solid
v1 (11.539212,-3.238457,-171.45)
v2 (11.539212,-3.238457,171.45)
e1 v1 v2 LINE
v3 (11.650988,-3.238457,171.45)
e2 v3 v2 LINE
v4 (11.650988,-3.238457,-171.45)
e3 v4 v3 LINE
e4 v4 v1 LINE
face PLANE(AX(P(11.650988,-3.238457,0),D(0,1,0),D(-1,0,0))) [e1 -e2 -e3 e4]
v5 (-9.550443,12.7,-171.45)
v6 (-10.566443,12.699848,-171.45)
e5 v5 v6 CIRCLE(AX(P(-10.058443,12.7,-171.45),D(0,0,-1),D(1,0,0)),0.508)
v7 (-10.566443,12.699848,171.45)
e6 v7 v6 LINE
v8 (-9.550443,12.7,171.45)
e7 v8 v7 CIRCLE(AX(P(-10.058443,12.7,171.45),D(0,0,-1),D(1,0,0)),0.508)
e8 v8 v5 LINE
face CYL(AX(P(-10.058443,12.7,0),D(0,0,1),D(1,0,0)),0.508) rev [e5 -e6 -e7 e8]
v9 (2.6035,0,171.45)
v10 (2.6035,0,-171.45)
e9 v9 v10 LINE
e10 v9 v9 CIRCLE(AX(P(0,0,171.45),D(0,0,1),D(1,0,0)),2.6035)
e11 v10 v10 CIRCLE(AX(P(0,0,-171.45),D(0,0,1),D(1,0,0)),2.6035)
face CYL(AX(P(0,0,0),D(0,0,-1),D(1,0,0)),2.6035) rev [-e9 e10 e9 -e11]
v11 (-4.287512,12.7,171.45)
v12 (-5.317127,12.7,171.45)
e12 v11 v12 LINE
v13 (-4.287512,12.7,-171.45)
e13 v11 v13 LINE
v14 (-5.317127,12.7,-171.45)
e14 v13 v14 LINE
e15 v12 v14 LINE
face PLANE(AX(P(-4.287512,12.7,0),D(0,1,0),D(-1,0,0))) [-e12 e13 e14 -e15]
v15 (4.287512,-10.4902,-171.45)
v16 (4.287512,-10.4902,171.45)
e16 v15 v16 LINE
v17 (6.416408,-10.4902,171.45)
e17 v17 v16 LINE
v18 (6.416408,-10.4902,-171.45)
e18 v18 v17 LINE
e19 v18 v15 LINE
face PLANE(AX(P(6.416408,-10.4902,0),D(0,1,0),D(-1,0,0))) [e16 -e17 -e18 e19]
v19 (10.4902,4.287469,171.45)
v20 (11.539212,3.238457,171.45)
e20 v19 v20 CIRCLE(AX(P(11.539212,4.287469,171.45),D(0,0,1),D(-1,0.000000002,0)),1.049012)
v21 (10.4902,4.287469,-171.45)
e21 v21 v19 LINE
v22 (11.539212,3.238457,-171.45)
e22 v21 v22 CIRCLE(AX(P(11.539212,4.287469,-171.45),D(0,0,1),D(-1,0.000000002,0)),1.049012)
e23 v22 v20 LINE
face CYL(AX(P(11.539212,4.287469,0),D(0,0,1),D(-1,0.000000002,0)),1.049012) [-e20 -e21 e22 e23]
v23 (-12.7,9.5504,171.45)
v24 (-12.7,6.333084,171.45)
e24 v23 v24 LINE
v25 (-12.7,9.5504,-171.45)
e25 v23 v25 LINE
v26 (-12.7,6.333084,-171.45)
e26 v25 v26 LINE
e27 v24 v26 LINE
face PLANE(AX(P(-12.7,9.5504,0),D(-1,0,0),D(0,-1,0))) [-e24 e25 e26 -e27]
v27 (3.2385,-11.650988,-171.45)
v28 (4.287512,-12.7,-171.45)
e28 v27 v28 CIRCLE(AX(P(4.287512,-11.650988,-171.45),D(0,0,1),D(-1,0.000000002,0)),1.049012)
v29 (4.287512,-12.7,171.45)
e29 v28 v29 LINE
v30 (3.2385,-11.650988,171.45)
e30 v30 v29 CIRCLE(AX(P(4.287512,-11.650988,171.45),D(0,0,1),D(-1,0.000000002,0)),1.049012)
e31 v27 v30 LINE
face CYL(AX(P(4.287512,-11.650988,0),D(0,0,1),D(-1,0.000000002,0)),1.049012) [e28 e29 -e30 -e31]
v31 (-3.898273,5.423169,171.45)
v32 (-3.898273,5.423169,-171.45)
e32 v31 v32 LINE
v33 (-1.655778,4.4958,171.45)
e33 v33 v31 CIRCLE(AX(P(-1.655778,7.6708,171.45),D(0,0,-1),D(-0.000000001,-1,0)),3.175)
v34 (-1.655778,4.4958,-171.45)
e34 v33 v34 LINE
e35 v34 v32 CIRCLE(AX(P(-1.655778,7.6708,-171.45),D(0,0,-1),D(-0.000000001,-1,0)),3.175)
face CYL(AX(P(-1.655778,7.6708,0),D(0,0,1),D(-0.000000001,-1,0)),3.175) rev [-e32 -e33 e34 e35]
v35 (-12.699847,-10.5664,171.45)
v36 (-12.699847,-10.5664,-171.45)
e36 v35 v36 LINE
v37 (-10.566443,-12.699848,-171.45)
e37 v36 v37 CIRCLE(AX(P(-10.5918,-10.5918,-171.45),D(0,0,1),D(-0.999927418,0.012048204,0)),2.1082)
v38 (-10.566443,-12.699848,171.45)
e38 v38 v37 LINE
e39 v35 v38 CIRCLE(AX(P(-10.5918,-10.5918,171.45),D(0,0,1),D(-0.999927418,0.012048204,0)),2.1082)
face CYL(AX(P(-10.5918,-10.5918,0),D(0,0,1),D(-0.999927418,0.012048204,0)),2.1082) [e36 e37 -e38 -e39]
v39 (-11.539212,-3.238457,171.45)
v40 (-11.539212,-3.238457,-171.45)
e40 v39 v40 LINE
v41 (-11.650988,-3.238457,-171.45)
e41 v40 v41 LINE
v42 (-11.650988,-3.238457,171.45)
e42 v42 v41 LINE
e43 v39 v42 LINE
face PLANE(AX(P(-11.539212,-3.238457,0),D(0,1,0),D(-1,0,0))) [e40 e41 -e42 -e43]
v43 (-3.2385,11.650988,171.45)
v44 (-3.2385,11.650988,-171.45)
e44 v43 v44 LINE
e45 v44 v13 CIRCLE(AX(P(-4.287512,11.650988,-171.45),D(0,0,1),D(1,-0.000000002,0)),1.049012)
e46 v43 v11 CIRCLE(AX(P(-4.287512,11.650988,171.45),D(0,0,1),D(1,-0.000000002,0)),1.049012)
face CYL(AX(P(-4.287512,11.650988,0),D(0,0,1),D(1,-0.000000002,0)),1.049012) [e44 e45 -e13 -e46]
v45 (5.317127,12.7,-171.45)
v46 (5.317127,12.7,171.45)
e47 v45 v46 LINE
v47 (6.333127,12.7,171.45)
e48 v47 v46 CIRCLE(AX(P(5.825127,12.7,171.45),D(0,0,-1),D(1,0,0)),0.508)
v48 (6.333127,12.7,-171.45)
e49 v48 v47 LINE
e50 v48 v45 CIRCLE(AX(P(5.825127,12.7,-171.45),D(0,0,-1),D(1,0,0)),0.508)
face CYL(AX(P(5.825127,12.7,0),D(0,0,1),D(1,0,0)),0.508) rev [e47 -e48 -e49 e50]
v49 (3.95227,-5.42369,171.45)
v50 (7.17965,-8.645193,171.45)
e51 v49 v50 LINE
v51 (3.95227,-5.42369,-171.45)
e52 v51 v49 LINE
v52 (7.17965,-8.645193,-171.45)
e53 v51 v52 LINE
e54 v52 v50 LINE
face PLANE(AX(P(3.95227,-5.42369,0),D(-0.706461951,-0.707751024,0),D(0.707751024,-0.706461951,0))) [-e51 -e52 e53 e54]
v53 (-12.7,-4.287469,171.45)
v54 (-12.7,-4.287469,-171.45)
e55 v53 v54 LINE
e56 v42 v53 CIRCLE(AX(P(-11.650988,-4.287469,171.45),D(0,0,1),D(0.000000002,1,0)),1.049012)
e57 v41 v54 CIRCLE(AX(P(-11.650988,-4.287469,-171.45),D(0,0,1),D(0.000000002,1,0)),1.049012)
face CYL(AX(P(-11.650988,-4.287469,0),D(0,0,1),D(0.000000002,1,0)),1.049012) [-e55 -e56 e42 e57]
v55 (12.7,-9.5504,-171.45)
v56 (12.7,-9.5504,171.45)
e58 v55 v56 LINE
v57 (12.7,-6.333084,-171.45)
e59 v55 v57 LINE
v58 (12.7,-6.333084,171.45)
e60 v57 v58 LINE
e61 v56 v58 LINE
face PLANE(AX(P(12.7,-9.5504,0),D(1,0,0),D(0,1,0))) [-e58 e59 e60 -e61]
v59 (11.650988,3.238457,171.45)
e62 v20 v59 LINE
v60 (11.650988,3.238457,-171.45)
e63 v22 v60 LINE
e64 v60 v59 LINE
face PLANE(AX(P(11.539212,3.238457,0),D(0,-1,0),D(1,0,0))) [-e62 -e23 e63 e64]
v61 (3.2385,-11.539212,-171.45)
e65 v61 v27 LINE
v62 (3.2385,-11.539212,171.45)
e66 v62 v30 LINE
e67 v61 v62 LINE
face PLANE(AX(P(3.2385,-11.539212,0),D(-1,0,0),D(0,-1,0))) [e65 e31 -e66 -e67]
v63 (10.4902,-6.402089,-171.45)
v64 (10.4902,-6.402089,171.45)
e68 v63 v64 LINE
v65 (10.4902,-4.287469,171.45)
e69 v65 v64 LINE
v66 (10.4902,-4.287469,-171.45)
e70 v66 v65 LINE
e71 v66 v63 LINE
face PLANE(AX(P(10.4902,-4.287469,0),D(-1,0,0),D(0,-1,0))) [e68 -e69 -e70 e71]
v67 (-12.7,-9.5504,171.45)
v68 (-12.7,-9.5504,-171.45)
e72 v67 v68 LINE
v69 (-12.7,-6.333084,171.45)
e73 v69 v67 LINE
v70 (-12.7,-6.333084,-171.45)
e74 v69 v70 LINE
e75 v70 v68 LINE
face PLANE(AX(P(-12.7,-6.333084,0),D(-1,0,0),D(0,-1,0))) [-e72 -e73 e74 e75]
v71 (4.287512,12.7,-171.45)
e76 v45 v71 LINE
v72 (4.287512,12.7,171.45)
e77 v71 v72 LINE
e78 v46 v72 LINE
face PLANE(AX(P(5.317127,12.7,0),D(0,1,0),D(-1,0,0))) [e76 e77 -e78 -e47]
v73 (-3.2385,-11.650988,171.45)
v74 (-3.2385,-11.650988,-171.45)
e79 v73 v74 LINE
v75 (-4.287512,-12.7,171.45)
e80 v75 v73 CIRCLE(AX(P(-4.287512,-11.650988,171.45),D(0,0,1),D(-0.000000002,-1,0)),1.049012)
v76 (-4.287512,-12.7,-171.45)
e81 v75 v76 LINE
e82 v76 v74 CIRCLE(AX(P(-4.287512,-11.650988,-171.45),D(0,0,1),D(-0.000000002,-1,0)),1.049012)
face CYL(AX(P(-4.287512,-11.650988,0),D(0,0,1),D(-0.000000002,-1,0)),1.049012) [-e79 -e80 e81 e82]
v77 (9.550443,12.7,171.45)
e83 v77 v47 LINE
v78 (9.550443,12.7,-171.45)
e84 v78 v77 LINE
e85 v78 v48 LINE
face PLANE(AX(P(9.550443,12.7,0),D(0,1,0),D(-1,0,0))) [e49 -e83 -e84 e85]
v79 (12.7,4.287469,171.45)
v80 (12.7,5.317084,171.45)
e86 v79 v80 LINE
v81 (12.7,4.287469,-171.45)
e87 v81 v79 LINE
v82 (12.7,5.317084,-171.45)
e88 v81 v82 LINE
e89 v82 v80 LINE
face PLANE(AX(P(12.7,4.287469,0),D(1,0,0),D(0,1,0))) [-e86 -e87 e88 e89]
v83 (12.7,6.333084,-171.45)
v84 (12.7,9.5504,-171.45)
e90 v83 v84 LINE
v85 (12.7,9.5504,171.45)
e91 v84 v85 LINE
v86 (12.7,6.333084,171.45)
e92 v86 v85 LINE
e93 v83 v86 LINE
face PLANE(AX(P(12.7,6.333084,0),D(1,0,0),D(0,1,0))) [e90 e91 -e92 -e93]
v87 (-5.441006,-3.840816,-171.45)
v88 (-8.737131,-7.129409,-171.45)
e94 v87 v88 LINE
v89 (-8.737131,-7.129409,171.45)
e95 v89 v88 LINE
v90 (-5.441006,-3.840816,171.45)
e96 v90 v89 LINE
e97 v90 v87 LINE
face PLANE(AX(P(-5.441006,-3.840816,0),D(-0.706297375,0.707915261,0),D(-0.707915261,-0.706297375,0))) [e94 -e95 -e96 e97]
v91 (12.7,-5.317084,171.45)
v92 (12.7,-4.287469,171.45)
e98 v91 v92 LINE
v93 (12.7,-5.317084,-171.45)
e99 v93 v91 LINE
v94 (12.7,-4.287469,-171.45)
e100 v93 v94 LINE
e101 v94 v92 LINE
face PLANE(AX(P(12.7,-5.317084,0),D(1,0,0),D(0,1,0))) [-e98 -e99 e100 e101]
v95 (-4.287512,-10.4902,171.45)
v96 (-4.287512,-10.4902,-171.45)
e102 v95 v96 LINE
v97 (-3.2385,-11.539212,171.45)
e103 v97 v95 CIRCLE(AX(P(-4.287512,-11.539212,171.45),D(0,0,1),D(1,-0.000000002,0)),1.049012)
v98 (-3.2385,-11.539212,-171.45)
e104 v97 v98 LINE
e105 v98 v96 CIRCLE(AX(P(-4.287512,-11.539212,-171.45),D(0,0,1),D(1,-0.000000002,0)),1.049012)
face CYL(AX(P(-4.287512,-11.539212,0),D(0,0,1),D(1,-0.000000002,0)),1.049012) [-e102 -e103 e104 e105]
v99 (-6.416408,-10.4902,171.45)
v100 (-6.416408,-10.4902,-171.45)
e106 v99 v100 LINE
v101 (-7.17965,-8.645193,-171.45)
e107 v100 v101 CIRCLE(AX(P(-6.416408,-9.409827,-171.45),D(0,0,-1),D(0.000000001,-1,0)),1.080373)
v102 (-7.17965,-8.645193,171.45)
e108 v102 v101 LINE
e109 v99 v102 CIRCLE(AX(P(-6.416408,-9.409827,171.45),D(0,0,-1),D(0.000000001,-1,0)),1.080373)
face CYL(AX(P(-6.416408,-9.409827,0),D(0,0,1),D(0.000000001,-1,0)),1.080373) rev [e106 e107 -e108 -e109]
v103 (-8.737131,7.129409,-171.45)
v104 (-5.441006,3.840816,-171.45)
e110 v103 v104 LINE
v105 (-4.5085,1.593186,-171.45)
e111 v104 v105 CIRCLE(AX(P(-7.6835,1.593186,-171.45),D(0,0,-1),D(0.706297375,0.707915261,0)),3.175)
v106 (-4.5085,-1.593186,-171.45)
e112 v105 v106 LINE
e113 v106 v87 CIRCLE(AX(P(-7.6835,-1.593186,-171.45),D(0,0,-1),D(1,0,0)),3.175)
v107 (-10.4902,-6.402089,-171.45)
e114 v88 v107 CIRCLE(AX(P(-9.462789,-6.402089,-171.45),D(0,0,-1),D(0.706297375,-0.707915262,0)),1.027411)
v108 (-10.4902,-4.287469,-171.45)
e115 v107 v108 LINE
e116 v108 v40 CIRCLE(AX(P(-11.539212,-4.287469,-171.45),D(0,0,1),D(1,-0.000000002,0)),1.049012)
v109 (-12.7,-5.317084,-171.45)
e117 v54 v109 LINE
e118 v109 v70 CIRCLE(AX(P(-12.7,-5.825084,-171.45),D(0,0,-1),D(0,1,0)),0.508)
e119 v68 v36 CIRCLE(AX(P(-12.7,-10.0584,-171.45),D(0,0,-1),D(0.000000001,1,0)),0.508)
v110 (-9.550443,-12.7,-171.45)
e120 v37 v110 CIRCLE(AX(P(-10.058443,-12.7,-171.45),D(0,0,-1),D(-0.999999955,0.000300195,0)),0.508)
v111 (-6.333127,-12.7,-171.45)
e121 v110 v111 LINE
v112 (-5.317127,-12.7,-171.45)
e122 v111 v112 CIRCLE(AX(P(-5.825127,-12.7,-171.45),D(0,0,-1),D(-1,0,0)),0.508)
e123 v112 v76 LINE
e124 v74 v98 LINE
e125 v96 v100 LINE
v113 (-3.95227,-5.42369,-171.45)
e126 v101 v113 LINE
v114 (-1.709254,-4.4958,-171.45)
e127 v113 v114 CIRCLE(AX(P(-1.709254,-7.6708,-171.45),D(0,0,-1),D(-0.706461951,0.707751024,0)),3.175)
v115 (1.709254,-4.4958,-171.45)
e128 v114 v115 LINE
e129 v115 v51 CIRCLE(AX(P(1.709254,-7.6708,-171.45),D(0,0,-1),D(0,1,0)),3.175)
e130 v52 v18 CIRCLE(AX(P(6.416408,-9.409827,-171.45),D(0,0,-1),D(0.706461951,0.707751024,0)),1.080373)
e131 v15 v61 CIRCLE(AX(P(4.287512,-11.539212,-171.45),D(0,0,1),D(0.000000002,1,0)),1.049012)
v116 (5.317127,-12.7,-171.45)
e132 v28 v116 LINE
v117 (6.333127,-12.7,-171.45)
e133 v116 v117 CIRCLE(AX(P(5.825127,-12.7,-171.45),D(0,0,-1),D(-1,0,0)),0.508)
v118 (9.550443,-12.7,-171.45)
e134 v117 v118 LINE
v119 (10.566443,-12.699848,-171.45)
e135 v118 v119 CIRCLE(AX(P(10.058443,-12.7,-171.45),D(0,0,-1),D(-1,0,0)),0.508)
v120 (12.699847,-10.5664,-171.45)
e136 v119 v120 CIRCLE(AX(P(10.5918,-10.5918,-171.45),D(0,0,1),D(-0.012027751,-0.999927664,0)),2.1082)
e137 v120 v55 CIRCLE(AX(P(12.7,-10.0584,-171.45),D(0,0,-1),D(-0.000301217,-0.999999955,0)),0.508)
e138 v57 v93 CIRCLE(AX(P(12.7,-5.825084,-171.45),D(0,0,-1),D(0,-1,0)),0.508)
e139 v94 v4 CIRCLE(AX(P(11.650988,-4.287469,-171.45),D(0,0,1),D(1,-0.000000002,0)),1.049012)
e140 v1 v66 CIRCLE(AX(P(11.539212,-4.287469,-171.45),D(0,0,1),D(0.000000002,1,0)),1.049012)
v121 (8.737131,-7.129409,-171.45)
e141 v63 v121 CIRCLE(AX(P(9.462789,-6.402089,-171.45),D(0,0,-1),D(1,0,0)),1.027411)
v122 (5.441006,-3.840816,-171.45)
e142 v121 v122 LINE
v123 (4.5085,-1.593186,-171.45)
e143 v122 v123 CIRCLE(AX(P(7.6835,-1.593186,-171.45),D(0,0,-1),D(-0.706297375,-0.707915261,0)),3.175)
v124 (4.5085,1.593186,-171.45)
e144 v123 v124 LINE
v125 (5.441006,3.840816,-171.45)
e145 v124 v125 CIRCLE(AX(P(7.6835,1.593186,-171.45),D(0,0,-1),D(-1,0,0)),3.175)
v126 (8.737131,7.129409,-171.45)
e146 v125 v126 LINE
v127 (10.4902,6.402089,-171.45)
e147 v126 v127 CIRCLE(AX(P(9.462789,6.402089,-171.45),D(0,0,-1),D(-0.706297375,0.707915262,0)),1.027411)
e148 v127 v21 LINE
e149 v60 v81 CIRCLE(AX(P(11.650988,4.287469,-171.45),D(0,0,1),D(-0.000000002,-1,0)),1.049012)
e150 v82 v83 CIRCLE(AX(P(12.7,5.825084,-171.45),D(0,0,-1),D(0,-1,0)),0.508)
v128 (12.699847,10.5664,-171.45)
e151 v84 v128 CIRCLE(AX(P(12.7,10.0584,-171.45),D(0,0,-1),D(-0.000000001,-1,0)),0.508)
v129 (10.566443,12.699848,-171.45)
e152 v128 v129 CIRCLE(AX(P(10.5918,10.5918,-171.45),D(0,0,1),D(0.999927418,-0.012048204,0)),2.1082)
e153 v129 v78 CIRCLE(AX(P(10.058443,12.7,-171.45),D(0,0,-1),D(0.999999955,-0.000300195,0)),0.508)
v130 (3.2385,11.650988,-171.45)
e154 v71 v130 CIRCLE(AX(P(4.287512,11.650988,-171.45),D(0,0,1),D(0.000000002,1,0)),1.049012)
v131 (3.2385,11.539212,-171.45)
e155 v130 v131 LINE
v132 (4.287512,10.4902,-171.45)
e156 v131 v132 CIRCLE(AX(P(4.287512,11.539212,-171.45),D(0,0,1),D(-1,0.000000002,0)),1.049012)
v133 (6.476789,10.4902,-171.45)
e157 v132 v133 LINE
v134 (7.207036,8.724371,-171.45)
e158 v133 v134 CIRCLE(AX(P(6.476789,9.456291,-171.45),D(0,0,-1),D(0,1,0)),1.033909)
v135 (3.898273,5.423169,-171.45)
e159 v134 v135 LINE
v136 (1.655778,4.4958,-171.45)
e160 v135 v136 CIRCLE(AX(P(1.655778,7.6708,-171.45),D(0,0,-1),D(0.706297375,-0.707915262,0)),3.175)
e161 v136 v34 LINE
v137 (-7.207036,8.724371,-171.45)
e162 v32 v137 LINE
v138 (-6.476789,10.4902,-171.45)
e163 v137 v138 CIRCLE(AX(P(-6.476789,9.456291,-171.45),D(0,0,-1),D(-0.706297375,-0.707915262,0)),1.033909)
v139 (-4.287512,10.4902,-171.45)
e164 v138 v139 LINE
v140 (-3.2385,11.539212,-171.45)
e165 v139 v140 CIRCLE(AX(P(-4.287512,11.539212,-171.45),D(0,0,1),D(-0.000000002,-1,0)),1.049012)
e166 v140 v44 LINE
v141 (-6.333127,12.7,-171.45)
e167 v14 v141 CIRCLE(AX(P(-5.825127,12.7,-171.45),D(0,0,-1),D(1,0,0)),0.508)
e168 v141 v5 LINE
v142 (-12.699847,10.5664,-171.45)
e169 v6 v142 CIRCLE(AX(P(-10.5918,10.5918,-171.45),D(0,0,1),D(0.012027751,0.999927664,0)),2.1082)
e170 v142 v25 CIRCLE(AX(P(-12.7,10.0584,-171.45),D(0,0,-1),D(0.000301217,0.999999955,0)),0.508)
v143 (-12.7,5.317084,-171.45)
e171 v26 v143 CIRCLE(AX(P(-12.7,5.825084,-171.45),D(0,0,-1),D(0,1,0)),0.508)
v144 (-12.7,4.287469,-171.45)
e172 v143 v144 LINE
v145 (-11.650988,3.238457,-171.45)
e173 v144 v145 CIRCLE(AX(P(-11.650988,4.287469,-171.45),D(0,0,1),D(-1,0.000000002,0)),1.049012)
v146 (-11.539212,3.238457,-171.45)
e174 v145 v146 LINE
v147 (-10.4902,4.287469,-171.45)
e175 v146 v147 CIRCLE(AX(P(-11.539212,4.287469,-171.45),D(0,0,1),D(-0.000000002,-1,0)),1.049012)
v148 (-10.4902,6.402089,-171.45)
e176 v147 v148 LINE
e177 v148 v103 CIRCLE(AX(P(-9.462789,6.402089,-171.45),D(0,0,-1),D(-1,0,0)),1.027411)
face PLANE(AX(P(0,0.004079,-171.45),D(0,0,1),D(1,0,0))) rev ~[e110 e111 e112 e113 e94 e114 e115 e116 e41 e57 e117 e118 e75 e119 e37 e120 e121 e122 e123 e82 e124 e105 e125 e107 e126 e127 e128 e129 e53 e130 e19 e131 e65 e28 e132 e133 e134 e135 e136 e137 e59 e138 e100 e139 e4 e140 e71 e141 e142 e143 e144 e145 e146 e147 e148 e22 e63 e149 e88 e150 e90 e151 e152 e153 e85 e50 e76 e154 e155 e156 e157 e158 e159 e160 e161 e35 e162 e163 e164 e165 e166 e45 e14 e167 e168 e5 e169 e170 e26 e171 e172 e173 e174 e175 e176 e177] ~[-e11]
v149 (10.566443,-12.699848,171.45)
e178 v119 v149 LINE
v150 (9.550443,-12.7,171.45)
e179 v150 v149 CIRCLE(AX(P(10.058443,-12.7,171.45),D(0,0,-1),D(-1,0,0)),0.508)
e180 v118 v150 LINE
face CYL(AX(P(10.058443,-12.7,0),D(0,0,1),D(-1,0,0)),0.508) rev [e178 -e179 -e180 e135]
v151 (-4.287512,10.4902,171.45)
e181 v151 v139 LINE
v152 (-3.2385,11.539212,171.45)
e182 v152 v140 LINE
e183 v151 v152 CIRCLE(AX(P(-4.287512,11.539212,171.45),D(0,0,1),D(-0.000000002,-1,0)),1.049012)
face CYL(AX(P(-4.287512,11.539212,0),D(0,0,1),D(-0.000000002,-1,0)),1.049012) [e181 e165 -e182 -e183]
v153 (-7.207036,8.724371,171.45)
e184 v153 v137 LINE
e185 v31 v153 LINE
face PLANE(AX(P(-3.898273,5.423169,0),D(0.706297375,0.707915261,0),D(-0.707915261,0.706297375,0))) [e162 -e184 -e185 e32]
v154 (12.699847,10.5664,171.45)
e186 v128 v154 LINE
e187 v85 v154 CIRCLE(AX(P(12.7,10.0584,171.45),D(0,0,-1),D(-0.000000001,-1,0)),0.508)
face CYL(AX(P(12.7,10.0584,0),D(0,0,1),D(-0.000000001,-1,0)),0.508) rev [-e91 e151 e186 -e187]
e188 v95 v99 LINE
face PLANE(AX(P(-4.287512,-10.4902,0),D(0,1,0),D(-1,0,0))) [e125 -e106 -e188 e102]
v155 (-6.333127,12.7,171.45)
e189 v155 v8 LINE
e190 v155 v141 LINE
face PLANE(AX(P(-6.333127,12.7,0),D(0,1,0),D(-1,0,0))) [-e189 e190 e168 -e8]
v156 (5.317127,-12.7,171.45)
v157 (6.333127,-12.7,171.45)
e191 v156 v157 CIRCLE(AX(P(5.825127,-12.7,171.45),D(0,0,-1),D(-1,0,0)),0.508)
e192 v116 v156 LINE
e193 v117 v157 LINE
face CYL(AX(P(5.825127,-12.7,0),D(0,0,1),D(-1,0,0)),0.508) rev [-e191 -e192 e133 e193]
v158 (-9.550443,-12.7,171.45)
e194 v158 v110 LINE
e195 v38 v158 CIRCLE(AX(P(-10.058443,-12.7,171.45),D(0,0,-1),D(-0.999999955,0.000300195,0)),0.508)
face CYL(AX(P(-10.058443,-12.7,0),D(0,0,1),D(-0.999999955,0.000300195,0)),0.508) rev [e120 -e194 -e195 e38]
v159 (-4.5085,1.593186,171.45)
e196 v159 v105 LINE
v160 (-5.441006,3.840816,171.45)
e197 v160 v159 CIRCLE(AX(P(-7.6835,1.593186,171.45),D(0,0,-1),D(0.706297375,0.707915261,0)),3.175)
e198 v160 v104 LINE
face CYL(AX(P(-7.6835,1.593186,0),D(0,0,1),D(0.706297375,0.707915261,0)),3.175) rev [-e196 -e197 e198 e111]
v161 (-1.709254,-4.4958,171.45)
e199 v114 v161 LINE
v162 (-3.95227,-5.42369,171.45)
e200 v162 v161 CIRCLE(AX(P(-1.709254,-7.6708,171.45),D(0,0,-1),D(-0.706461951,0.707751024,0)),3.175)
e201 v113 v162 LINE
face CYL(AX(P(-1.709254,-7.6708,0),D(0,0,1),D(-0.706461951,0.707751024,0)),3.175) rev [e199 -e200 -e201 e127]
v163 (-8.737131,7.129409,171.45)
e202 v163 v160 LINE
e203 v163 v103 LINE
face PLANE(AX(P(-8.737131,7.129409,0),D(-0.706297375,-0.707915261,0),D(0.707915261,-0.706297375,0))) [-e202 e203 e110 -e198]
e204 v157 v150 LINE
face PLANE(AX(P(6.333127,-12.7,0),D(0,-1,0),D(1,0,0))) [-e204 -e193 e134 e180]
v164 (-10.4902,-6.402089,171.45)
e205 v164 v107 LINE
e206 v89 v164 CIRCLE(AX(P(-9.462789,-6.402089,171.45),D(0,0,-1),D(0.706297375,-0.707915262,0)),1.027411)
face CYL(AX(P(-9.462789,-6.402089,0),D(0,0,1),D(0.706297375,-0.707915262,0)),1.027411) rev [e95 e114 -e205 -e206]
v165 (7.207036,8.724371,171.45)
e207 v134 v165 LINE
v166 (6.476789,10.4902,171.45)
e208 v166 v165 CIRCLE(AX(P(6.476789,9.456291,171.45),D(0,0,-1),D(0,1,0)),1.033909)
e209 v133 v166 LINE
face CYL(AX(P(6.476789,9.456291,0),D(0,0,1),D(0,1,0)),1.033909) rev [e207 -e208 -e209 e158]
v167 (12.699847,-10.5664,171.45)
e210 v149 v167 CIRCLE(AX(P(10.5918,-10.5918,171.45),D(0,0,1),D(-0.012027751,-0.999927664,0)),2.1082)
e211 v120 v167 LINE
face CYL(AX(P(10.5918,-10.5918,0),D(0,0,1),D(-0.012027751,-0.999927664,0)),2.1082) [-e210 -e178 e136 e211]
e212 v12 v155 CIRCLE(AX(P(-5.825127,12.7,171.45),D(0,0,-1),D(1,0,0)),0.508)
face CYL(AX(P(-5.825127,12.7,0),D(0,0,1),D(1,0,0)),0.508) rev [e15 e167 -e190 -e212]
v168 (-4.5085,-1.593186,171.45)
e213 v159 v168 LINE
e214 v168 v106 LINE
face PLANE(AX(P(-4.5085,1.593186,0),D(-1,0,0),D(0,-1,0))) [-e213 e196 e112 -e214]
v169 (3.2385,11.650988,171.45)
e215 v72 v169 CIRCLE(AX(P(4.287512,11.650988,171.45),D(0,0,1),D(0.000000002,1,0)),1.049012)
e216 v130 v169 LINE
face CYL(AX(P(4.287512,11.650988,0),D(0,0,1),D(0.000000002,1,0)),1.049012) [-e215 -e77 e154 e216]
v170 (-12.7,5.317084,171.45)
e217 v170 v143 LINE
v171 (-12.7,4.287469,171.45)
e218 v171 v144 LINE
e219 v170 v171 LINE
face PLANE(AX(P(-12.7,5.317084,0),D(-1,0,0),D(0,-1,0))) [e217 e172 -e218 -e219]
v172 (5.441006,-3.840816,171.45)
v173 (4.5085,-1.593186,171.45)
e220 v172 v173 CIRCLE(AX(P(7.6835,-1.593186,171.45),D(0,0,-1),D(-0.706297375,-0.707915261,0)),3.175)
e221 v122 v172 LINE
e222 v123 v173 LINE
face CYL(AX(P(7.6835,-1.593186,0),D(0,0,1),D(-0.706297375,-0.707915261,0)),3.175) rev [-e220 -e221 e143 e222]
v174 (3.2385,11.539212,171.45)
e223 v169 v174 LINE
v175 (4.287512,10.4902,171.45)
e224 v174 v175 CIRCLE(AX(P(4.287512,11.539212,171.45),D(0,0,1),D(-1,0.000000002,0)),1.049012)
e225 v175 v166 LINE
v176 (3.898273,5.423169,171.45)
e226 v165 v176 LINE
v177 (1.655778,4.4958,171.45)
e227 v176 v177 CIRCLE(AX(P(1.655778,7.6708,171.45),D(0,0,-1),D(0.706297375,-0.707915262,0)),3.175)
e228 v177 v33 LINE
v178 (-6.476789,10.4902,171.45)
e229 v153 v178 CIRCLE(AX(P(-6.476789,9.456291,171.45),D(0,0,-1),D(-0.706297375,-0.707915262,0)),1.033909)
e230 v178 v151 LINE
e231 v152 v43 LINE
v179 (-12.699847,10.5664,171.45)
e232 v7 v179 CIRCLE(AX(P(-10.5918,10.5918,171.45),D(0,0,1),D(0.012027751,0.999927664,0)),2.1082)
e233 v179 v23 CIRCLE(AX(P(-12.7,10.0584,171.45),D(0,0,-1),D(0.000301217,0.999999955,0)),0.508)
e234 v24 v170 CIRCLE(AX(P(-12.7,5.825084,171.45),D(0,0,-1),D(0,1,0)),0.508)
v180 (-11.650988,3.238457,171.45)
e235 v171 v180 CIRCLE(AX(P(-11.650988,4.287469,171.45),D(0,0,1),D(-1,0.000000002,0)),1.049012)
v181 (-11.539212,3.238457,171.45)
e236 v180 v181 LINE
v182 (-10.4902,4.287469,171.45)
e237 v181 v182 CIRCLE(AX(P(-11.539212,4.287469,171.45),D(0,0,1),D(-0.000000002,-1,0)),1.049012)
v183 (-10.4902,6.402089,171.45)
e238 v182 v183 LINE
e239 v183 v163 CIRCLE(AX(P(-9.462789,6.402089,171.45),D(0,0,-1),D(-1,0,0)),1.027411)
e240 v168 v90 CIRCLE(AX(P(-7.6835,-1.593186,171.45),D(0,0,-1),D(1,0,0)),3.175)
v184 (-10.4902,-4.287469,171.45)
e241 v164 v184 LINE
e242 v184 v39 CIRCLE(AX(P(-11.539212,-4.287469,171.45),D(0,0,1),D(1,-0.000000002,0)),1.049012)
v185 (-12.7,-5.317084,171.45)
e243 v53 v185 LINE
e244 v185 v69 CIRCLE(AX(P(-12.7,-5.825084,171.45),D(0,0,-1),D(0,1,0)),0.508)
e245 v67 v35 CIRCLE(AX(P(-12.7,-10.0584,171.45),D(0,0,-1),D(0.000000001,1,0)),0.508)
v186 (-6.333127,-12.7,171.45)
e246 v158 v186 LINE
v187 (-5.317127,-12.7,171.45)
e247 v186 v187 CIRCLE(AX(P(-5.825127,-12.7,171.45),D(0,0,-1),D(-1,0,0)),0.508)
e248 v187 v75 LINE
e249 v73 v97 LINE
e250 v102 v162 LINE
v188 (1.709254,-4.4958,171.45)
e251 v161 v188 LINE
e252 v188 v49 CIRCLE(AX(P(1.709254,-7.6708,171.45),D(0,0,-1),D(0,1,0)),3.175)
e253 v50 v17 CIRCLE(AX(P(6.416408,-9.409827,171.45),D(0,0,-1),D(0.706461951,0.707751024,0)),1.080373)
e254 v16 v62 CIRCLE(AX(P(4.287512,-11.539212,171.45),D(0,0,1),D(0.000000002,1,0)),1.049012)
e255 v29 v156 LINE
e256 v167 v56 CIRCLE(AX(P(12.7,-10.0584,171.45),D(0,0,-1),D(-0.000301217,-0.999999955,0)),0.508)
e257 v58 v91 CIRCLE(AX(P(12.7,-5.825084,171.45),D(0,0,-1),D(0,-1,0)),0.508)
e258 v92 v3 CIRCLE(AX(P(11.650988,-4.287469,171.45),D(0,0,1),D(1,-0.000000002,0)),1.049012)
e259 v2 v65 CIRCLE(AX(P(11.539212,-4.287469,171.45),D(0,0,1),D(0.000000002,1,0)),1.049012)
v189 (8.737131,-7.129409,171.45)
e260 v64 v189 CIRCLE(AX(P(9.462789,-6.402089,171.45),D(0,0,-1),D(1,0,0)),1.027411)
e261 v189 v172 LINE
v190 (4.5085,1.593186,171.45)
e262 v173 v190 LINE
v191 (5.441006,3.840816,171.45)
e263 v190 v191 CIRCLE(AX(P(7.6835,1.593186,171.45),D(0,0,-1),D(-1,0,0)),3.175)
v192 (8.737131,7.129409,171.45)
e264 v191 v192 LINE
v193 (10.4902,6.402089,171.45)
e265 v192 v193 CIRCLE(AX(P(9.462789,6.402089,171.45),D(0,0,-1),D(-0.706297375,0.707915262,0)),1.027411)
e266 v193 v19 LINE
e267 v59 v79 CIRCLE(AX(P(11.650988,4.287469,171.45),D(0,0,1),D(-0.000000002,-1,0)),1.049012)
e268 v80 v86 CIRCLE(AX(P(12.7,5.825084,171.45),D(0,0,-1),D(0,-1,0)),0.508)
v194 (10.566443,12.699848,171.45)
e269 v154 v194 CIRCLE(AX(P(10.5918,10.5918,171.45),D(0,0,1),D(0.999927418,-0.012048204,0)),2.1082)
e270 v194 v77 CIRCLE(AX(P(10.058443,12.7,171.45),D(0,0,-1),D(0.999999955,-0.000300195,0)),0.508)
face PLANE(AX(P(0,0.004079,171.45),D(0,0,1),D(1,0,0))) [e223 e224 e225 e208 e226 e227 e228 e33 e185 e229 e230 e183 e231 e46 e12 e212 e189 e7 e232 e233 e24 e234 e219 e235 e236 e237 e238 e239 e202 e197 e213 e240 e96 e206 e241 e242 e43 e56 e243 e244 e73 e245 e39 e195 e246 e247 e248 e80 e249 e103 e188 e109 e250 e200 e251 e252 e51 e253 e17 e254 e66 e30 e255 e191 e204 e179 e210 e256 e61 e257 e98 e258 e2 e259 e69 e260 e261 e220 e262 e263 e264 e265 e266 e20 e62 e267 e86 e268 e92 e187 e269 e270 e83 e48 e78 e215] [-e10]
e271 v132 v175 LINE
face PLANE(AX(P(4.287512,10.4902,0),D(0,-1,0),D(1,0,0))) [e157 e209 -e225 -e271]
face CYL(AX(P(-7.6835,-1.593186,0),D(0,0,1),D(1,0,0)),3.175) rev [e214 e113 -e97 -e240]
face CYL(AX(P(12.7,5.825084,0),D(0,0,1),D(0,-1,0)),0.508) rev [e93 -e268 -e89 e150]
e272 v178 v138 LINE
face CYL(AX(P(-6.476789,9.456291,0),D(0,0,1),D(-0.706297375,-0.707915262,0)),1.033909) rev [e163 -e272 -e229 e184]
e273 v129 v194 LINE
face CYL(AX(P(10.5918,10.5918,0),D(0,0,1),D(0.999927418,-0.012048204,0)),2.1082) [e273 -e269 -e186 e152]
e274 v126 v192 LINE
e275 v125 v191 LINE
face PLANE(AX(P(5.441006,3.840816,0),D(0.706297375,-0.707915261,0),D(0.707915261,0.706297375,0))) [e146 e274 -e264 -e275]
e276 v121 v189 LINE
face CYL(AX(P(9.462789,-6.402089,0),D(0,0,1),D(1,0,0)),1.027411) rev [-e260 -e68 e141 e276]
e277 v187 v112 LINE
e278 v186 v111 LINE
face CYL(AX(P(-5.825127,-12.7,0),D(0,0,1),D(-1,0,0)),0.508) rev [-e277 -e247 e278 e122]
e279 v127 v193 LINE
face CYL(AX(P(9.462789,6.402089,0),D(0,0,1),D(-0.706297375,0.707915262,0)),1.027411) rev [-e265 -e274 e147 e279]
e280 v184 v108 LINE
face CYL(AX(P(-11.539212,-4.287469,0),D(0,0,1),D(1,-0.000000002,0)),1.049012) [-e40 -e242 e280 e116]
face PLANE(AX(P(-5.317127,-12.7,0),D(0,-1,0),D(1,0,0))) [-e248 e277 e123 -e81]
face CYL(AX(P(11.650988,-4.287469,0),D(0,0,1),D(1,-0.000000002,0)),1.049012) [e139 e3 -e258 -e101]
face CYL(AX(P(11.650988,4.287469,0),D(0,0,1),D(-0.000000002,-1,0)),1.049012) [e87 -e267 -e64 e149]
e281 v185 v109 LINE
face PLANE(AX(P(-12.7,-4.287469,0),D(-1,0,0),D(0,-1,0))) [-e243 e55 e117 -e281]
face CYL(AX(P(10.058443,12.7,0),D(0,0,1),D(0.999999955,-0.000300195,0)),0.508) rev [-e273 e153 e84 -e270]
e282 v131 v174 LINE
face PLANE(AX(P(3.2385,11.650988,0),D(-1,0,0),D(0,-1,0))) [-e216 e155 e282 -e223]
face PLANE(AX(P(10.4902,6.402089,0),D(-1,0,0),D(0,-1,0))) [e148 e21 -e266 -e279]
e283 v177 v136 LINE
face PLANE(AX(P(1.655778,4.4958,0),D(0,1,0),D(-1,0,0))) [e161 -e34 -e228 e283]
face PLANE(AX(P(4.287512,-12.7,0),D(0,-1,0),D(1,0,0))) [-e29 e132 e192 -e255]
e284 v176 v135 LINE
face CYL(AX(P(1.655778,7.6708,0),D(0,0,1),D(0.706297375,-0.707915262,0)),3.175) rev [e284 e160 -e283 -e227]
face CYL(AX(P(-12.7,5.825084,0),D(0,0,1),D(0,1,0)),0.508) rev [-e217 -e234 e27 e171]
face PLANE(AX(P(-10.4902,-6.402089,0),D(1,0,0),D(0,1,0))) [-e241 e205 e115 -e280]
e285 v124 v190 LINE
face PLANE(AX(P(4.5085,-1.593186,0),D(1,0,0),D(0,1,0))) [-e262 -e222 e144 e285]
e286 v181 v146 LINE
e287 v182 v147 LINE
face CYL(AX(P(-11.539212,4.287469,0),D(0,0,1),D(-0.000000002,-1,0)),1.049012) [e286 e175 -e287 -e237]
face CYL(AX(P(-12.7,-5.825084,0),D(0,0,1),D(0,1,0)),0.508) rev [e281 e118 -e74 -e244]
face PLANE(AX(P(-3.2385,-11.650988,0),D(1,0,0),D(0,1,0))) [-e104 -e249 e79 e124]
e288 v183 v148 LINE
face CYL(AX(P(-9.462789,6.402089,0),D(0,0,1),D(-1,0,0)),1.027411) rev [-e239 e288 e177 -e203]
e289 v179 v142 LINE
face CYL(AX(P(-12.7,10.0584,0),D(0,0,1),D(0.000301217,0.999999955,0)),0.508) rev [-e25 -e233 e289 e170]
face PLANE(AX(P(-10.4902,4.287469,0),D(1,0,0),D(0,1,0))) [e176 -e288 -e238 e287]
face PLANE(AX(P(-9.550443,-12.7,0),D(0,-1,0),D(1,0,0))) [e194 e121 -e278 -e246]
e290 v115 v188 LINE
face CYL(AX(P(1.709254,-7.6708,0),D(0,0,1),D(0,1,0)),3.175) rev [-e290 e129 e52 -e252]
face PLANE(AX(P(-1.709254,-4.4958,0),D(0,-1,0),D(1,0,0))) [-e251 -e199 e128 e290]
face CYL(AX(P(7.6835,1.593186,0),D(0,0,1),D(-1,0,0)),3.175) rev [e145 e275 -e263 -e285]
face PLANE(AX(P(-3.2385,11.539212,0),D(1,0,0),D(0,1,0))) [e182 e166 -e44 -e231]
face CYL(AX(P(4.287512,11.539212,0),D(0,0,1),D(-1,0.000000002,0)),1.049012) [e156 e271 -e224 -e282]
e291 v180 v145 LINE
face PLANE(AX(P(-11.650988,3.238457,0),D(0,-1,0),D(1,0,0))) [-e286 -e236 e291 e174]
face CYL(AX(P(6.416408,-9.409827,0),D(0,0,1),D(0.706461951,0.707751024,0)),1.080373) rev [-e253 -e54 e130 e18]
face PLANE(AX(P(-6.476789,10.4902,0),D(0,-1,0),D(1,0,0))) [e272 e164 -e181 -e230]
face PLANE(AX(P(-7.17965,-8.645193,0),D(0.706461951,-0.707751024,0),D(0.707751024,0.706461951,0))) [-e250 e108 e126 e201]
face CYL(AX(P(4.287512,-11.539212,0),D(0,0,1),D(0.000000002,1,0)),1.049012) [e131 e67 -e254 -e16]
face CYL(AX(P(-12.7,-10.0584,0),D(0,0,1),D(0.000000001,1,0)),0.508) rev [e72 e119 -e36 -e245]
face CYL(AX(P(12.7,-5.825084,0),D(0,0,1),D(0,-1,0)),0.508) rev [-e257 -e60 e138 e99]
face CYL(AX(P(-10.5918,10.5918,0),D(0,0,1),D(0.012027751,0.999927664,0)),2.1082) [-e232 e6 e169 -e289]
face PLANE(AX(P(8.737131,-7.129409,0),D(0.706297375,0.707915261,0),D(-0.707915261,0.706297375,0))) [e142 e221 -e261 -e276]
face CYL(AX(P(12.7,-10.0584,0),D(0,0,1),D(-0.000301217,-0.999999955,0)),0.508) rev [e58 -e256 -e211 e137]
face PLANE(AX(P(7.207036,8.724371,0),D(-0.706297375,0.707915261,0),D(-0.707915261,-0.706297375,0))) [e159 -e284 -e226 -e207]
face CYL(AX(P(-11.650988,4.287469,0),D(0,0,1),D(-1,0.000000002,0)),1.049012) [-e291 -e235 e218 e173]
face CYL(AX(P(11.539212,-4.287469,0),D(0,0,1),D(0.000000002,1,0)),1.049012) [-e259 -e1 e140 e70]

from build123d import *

# Parameters (mm, degrees)
SKETCH1_R           = 2.6035
BOSS_EXTRUDE1_DEPTH = 171.45


with BuildPart() as part:
    # Sketch1 → Boss-Extrude1 (new, symmetric)
    with BuildSketch(Plane.XY):
        with BuildLine():
            Line((-7.179650497, -8.645192506), (-3.952270251, -5.423690499))
            ThreePointArc((-3.952270251, -5.423690499), (-2.922936451, -4.736929036), (-1.709253557, -4.4958))
            Line((-1.709253557, -4.4958), (1.709253557, -4.4958))
            ThreePointArc((1.709253557, -4.4958), (2.922936451, -4.736929036), (3.952270251, -5.423690499))
            Line((3.952270251, -5.423690499), (7.179650497, -8.645192506))
            ThreePointArc((7.179650497, -8.645192506), (7.41473083, -9.822813117), (6.416408329, -10.4902))
            Line((6.416408329, -10.4902), (4.287512407, -10.4902))
            ThreePointArc((4.287512407, -10.4902), (3.54574862, -10.79744862), (3.2385, -11.539212407))
            Line((3.2385, -11.539212407), (3.2385, -11.650987593))
            ThreePointArc((3.2385, -11.650987593), (3.54574862, -12.39275138), (4.287512407, -12.7))
            Line((4.287512407, -12.7), (5.317126718, -12.7))
            ThreePointArc((5.317126718, -12.7), (5.825126718, -12.192), (6.333126718, -12.7))
            Line((6.333126718, -12.7), (9.550443118, -12.7))
            ThreePointArc((9.550443118, -12.7), (10.058366869, -12.192000006), (10.566443095, -12.699847501))
            ThreePointArc((10.566443095, -12.699847501), (12.082537762, -12.08250727), (12.699846982, -10.566399977))
            ThreePointArc((12.699846982, -10.566399977), (12.192000006, -10.058323491), (12.7, -9.5504))
            Line((12.7, -9.5504), (12.7, -6.3330836))
            ThreePointArc((12.7, -6.3330836), (12.192, -5.8250836), (12.7, -5.3170836))
            Line((12.7, -5.3170836), (12.7, -4.287469289))
            ThreePointArc((12.7, -4.287469289), (12.39275138, -3.545705502), (11.650987593, -3.238456882))
            Line((11.650987593, -3.238456882), (11.539212407, -3.238456882))
            ThreePointArc((11.539212407, -3.238456882), (10.79744862, -3.545705502), (10.4902, -4.287469289))
            Line((10.4902, -4.287469289), (10.4902, -6.402089023))
            ThreePointArc((10.4902, -6.402089023), (9.856505071, -7.351067942), (8.737131347, -7.129408934))
            Line((8.737131347, -7.129408934), (5.441005833, -3.840816462))
            ThreePointArc((5.441005833, -3.840816462), (4.750877967, -2.809883091), (4.5085, -1.593185507))
            Line((4.5085, -1.593185507), (4.5085, 1.593185507))
            ThreePointArc((4.5085, 1.593185507), (4.750877967, 2.809883091), (5.441005833, 3.840816462))
            Line((5.441005833, 3.840816462), (8.737131347, 7.129408934))
            ThreePointArc((8.737131347, 7.129408934), (9.856505071, 7.351067942), (10.4902, 6.402089023))
            Line((10.4902, 6.402089023), (10.4902, 4.287469289))
            ThreePointArc((10.4902, 4.287469289), (10.79744862, 3.545705502), (11.539212407, 3.238456882))
            Line((11.539212407, 3.238456882), (11.650987593, 3.238456882))
            ThreePointArc((11.650987593, 3.238456882), (12.39275138, 3.545705502), (12.7, 4.287469289))
            Line((12.7, 4.287469289), (12.7, 5.3170836))
            ThreePointArc((12.7, 5.3170836), (12.192, 5.8250836), (12.7, 6.3330836))
            Line((12.7, 6.3330836), (12.7, 9.5504))
            ThreePointArc((12.7, 9.5504), (12.192000006, 10.058323491), (12.699846982, 10.566399977))
            ThreePointArc((12.699846982, 10.566399977), (12.082537762, 12.08250727), (10.566443095, 12.699847501))
            ThreePointArc((10.566443095, 12.699847501), (10.058366869, 12.192000006), (9.550443118, 12.7))
            Line((9.550443118, 12.7), (6.333126718, 12.7))
            ThreePointArc((6.333126718, 12.7), (5.825126718, 12.192), (5.317126718, 12.7))
            Line((5.317126718, 12.7), (4.287512407, 12.7))
            ThreePointArc((4.287512407, 12.7), (3.54574862, 12.39275138), (3.2385, 11.650987593))
            Line((3.2385, 11.650987593), (3.2385, 11.539212407))
            ThreePointArc((3.2385, 11.539212407), (3.54574862, 10.79744862), (4.287512407, 10.4902))
            Line((4.287512407, 10.4902), (6.476788598, 10.4902))
            ThreePointArc((6.476788598, 10.4902), (7.432222385, 9.85140422), (7.207036008, 8.724370562))
            Line((7.207036008, 8.724370562), (3.898272566, 5.423169045))
            ThreePointArc((3.898272566, 5.423169045), (2.869120213, 4.736787962), (1.655778399, 4.4958))
            Line((1.655778399, 4.4958), (-1.655778399, 4.4958))
            ThreePointArc((-1.655778399, 4.4958), (-2.869120213, 4.736787962), (-3.898272566, 5.423169045))
            Line((-3.898272566, 5.423169045), (-7.207036008, 8.724370562))
            ThreePointArc((-7.207036008, 8.724370562), (-7.432222385, 9.85140422), (-6.476788598, 10.4902))
            Line((-6.476788598, 10.4902), (-4.287512407, 10.4902))
            ThreePointArc((-4.287512407, 10.4902), (-3.54574862, 10.79744862), (-3.2385, 11.539212407))
            Line((-3.2385, 11.539212407), (-3.2385, 11.650987593))
            ThreePointArc((-3.2385, 11.650987593), (-3.54574862, 12.39275138), (-4.287512407, 12.7))
            Line((-4.287512407, 12.7), (-5.317126718, 12.7))
            ThreePointArc((-5.317126718, 12.7), (-5.825126718, 12.192), (-6.333126718, 12.7))
            Line((-6.333126718, 12.7), (-9.550443118, 12.7))
            ThreePointArc((-9.550443118, 12.7), (-10.058366869, 12.192000006), (-10.566443095, 12.699847501))
            ThreePointArc((-10.566443095, 12.699847501), (-12.082537762, 12.08250727), (-12.699846982, 10.566399977))
            ThreePointArc((-12.699846982, 10.566399977), (-12.192000006, 10.058323491), (-12.7, 9.5504))
            Line((-12.7, 9.5504), (-12.7, 6.3330836))
            ThreePointArc((-12.7, 6.3330836), (-12.192, 5.8250836), (-12.7, 5.3170836))
            Line((-12.7, 5.3170836), (-12.7, 4.287469289))
            ThreePointArc((-12.7, 4.287469289), (-12.39275138, 3.545705502), (-11.650987593, 3.238456882))
            Line((-11.650987593, 3.238456882), (-11.539212407, 3.238456882))
            ThreePointArc((-11.539212407, 3.238456882), (-10.79744862, 3.545705502), (-10.4902, 4.287469289))
            Line((-10.4902, 4.287469289), (-10.4902, 6.402089023))
            ThreePointArc((-10.4902, 6.402089023), (-9.856505071, 7.351067942), (-8.737131347, 7.129408934))
            Line((-8.737131347, 7.129408934), (-5.441005833, 3.840816462))
            ThreePointArc((-5.441005833, 3.840816462), (-4.750877967, 2.809883091), (-4.5085, 1.593185507))
            Line((-4.5085, 1.593185507), (-4.5085, -1.593185507))
            ThreePointArc((-4.5085, -1.593185507), (-4.750877967, -2.809883091), (-5.441005833, -3.840816462))
            Line((-5.441005833, -3.840816462), (-8.737131347, -7.129408934))
            ThreePointArc((-8.737131347, -7.129408934), (-9.856505071, -7.351067942), (-10.4902, -6.402089023))
            Line((-10.4902, -6.402089023), (-10.4902, -4.287469289))
            ThreePointArc((-10.4902, -4.287469289), (-10.79744862, -3.545705502), (-11.539212407, -3.238456882))
            Line((-11.539212407, -3.238456882), (-11.650987593, -3.238456882))
            ThreePointArc((-11.650987593, -3.238456882), (-12.39275138, -3.545705502), (-12.7, -4.287469289))
            Line((-12.7, -4.287469289), (-12.7, -5.3170836))
            ThreePointArc((-12.7, -5.3170836), (-12.192, -5.8250836), (-12.7, -6.3330836))
            Line((-12.7, -6.3330836), (-12.7, -9.5504))
            ThreePointArc((-12.7, -9.5504), (-12.192000006, -10.058323491), (-12.699846982, -10.566399977))
            ThreePointArc((-12.699846982, -10.566399977), (-12.082537762, -12.08250727), (-10.566443095, -12.699847501))
            ThreePointArc((-10.566443095, -12.699847501), (-10.058366869, -12.192000006), (-9.550443118, -12.7))
            Line((-9.550443118, -12.7), (-6.333126718, -12.7))
            ThreePointArc((-6.333126718, -12.7), (-5.825126718, -12.192), (-5.317126718, -12.7))
            Line((-5.317126718, -12.7), (-4.287512407, -12.7))
            ThreePointArc((-4.287512407, -12.7), (-3.54574862, -12.39275138), (-3.2385, -11.650987593))
            Line((-3.2385, -11.650987593), (-3.2385, -11.539212407))
            ThreePointArc((-3.2385, -11.539212407), (-3.54574862, -10.79744862), (-4.287512407, -10.4902))
            Line((-4.287512407, -10.4902), (-6.416408329, -10.4902))
            ThreePointArc((-6.416408329, -10.4902), (-7.41473083, -9.822813117), (-7.179650497, -8.645192506))
        make_face()
        Circle(SKETCH1_R, mode=Mode.SUBTRACT)
    extrude(amount=BOSS_EXTRUDE1_DEPTH, both=True)


solid = part.part
